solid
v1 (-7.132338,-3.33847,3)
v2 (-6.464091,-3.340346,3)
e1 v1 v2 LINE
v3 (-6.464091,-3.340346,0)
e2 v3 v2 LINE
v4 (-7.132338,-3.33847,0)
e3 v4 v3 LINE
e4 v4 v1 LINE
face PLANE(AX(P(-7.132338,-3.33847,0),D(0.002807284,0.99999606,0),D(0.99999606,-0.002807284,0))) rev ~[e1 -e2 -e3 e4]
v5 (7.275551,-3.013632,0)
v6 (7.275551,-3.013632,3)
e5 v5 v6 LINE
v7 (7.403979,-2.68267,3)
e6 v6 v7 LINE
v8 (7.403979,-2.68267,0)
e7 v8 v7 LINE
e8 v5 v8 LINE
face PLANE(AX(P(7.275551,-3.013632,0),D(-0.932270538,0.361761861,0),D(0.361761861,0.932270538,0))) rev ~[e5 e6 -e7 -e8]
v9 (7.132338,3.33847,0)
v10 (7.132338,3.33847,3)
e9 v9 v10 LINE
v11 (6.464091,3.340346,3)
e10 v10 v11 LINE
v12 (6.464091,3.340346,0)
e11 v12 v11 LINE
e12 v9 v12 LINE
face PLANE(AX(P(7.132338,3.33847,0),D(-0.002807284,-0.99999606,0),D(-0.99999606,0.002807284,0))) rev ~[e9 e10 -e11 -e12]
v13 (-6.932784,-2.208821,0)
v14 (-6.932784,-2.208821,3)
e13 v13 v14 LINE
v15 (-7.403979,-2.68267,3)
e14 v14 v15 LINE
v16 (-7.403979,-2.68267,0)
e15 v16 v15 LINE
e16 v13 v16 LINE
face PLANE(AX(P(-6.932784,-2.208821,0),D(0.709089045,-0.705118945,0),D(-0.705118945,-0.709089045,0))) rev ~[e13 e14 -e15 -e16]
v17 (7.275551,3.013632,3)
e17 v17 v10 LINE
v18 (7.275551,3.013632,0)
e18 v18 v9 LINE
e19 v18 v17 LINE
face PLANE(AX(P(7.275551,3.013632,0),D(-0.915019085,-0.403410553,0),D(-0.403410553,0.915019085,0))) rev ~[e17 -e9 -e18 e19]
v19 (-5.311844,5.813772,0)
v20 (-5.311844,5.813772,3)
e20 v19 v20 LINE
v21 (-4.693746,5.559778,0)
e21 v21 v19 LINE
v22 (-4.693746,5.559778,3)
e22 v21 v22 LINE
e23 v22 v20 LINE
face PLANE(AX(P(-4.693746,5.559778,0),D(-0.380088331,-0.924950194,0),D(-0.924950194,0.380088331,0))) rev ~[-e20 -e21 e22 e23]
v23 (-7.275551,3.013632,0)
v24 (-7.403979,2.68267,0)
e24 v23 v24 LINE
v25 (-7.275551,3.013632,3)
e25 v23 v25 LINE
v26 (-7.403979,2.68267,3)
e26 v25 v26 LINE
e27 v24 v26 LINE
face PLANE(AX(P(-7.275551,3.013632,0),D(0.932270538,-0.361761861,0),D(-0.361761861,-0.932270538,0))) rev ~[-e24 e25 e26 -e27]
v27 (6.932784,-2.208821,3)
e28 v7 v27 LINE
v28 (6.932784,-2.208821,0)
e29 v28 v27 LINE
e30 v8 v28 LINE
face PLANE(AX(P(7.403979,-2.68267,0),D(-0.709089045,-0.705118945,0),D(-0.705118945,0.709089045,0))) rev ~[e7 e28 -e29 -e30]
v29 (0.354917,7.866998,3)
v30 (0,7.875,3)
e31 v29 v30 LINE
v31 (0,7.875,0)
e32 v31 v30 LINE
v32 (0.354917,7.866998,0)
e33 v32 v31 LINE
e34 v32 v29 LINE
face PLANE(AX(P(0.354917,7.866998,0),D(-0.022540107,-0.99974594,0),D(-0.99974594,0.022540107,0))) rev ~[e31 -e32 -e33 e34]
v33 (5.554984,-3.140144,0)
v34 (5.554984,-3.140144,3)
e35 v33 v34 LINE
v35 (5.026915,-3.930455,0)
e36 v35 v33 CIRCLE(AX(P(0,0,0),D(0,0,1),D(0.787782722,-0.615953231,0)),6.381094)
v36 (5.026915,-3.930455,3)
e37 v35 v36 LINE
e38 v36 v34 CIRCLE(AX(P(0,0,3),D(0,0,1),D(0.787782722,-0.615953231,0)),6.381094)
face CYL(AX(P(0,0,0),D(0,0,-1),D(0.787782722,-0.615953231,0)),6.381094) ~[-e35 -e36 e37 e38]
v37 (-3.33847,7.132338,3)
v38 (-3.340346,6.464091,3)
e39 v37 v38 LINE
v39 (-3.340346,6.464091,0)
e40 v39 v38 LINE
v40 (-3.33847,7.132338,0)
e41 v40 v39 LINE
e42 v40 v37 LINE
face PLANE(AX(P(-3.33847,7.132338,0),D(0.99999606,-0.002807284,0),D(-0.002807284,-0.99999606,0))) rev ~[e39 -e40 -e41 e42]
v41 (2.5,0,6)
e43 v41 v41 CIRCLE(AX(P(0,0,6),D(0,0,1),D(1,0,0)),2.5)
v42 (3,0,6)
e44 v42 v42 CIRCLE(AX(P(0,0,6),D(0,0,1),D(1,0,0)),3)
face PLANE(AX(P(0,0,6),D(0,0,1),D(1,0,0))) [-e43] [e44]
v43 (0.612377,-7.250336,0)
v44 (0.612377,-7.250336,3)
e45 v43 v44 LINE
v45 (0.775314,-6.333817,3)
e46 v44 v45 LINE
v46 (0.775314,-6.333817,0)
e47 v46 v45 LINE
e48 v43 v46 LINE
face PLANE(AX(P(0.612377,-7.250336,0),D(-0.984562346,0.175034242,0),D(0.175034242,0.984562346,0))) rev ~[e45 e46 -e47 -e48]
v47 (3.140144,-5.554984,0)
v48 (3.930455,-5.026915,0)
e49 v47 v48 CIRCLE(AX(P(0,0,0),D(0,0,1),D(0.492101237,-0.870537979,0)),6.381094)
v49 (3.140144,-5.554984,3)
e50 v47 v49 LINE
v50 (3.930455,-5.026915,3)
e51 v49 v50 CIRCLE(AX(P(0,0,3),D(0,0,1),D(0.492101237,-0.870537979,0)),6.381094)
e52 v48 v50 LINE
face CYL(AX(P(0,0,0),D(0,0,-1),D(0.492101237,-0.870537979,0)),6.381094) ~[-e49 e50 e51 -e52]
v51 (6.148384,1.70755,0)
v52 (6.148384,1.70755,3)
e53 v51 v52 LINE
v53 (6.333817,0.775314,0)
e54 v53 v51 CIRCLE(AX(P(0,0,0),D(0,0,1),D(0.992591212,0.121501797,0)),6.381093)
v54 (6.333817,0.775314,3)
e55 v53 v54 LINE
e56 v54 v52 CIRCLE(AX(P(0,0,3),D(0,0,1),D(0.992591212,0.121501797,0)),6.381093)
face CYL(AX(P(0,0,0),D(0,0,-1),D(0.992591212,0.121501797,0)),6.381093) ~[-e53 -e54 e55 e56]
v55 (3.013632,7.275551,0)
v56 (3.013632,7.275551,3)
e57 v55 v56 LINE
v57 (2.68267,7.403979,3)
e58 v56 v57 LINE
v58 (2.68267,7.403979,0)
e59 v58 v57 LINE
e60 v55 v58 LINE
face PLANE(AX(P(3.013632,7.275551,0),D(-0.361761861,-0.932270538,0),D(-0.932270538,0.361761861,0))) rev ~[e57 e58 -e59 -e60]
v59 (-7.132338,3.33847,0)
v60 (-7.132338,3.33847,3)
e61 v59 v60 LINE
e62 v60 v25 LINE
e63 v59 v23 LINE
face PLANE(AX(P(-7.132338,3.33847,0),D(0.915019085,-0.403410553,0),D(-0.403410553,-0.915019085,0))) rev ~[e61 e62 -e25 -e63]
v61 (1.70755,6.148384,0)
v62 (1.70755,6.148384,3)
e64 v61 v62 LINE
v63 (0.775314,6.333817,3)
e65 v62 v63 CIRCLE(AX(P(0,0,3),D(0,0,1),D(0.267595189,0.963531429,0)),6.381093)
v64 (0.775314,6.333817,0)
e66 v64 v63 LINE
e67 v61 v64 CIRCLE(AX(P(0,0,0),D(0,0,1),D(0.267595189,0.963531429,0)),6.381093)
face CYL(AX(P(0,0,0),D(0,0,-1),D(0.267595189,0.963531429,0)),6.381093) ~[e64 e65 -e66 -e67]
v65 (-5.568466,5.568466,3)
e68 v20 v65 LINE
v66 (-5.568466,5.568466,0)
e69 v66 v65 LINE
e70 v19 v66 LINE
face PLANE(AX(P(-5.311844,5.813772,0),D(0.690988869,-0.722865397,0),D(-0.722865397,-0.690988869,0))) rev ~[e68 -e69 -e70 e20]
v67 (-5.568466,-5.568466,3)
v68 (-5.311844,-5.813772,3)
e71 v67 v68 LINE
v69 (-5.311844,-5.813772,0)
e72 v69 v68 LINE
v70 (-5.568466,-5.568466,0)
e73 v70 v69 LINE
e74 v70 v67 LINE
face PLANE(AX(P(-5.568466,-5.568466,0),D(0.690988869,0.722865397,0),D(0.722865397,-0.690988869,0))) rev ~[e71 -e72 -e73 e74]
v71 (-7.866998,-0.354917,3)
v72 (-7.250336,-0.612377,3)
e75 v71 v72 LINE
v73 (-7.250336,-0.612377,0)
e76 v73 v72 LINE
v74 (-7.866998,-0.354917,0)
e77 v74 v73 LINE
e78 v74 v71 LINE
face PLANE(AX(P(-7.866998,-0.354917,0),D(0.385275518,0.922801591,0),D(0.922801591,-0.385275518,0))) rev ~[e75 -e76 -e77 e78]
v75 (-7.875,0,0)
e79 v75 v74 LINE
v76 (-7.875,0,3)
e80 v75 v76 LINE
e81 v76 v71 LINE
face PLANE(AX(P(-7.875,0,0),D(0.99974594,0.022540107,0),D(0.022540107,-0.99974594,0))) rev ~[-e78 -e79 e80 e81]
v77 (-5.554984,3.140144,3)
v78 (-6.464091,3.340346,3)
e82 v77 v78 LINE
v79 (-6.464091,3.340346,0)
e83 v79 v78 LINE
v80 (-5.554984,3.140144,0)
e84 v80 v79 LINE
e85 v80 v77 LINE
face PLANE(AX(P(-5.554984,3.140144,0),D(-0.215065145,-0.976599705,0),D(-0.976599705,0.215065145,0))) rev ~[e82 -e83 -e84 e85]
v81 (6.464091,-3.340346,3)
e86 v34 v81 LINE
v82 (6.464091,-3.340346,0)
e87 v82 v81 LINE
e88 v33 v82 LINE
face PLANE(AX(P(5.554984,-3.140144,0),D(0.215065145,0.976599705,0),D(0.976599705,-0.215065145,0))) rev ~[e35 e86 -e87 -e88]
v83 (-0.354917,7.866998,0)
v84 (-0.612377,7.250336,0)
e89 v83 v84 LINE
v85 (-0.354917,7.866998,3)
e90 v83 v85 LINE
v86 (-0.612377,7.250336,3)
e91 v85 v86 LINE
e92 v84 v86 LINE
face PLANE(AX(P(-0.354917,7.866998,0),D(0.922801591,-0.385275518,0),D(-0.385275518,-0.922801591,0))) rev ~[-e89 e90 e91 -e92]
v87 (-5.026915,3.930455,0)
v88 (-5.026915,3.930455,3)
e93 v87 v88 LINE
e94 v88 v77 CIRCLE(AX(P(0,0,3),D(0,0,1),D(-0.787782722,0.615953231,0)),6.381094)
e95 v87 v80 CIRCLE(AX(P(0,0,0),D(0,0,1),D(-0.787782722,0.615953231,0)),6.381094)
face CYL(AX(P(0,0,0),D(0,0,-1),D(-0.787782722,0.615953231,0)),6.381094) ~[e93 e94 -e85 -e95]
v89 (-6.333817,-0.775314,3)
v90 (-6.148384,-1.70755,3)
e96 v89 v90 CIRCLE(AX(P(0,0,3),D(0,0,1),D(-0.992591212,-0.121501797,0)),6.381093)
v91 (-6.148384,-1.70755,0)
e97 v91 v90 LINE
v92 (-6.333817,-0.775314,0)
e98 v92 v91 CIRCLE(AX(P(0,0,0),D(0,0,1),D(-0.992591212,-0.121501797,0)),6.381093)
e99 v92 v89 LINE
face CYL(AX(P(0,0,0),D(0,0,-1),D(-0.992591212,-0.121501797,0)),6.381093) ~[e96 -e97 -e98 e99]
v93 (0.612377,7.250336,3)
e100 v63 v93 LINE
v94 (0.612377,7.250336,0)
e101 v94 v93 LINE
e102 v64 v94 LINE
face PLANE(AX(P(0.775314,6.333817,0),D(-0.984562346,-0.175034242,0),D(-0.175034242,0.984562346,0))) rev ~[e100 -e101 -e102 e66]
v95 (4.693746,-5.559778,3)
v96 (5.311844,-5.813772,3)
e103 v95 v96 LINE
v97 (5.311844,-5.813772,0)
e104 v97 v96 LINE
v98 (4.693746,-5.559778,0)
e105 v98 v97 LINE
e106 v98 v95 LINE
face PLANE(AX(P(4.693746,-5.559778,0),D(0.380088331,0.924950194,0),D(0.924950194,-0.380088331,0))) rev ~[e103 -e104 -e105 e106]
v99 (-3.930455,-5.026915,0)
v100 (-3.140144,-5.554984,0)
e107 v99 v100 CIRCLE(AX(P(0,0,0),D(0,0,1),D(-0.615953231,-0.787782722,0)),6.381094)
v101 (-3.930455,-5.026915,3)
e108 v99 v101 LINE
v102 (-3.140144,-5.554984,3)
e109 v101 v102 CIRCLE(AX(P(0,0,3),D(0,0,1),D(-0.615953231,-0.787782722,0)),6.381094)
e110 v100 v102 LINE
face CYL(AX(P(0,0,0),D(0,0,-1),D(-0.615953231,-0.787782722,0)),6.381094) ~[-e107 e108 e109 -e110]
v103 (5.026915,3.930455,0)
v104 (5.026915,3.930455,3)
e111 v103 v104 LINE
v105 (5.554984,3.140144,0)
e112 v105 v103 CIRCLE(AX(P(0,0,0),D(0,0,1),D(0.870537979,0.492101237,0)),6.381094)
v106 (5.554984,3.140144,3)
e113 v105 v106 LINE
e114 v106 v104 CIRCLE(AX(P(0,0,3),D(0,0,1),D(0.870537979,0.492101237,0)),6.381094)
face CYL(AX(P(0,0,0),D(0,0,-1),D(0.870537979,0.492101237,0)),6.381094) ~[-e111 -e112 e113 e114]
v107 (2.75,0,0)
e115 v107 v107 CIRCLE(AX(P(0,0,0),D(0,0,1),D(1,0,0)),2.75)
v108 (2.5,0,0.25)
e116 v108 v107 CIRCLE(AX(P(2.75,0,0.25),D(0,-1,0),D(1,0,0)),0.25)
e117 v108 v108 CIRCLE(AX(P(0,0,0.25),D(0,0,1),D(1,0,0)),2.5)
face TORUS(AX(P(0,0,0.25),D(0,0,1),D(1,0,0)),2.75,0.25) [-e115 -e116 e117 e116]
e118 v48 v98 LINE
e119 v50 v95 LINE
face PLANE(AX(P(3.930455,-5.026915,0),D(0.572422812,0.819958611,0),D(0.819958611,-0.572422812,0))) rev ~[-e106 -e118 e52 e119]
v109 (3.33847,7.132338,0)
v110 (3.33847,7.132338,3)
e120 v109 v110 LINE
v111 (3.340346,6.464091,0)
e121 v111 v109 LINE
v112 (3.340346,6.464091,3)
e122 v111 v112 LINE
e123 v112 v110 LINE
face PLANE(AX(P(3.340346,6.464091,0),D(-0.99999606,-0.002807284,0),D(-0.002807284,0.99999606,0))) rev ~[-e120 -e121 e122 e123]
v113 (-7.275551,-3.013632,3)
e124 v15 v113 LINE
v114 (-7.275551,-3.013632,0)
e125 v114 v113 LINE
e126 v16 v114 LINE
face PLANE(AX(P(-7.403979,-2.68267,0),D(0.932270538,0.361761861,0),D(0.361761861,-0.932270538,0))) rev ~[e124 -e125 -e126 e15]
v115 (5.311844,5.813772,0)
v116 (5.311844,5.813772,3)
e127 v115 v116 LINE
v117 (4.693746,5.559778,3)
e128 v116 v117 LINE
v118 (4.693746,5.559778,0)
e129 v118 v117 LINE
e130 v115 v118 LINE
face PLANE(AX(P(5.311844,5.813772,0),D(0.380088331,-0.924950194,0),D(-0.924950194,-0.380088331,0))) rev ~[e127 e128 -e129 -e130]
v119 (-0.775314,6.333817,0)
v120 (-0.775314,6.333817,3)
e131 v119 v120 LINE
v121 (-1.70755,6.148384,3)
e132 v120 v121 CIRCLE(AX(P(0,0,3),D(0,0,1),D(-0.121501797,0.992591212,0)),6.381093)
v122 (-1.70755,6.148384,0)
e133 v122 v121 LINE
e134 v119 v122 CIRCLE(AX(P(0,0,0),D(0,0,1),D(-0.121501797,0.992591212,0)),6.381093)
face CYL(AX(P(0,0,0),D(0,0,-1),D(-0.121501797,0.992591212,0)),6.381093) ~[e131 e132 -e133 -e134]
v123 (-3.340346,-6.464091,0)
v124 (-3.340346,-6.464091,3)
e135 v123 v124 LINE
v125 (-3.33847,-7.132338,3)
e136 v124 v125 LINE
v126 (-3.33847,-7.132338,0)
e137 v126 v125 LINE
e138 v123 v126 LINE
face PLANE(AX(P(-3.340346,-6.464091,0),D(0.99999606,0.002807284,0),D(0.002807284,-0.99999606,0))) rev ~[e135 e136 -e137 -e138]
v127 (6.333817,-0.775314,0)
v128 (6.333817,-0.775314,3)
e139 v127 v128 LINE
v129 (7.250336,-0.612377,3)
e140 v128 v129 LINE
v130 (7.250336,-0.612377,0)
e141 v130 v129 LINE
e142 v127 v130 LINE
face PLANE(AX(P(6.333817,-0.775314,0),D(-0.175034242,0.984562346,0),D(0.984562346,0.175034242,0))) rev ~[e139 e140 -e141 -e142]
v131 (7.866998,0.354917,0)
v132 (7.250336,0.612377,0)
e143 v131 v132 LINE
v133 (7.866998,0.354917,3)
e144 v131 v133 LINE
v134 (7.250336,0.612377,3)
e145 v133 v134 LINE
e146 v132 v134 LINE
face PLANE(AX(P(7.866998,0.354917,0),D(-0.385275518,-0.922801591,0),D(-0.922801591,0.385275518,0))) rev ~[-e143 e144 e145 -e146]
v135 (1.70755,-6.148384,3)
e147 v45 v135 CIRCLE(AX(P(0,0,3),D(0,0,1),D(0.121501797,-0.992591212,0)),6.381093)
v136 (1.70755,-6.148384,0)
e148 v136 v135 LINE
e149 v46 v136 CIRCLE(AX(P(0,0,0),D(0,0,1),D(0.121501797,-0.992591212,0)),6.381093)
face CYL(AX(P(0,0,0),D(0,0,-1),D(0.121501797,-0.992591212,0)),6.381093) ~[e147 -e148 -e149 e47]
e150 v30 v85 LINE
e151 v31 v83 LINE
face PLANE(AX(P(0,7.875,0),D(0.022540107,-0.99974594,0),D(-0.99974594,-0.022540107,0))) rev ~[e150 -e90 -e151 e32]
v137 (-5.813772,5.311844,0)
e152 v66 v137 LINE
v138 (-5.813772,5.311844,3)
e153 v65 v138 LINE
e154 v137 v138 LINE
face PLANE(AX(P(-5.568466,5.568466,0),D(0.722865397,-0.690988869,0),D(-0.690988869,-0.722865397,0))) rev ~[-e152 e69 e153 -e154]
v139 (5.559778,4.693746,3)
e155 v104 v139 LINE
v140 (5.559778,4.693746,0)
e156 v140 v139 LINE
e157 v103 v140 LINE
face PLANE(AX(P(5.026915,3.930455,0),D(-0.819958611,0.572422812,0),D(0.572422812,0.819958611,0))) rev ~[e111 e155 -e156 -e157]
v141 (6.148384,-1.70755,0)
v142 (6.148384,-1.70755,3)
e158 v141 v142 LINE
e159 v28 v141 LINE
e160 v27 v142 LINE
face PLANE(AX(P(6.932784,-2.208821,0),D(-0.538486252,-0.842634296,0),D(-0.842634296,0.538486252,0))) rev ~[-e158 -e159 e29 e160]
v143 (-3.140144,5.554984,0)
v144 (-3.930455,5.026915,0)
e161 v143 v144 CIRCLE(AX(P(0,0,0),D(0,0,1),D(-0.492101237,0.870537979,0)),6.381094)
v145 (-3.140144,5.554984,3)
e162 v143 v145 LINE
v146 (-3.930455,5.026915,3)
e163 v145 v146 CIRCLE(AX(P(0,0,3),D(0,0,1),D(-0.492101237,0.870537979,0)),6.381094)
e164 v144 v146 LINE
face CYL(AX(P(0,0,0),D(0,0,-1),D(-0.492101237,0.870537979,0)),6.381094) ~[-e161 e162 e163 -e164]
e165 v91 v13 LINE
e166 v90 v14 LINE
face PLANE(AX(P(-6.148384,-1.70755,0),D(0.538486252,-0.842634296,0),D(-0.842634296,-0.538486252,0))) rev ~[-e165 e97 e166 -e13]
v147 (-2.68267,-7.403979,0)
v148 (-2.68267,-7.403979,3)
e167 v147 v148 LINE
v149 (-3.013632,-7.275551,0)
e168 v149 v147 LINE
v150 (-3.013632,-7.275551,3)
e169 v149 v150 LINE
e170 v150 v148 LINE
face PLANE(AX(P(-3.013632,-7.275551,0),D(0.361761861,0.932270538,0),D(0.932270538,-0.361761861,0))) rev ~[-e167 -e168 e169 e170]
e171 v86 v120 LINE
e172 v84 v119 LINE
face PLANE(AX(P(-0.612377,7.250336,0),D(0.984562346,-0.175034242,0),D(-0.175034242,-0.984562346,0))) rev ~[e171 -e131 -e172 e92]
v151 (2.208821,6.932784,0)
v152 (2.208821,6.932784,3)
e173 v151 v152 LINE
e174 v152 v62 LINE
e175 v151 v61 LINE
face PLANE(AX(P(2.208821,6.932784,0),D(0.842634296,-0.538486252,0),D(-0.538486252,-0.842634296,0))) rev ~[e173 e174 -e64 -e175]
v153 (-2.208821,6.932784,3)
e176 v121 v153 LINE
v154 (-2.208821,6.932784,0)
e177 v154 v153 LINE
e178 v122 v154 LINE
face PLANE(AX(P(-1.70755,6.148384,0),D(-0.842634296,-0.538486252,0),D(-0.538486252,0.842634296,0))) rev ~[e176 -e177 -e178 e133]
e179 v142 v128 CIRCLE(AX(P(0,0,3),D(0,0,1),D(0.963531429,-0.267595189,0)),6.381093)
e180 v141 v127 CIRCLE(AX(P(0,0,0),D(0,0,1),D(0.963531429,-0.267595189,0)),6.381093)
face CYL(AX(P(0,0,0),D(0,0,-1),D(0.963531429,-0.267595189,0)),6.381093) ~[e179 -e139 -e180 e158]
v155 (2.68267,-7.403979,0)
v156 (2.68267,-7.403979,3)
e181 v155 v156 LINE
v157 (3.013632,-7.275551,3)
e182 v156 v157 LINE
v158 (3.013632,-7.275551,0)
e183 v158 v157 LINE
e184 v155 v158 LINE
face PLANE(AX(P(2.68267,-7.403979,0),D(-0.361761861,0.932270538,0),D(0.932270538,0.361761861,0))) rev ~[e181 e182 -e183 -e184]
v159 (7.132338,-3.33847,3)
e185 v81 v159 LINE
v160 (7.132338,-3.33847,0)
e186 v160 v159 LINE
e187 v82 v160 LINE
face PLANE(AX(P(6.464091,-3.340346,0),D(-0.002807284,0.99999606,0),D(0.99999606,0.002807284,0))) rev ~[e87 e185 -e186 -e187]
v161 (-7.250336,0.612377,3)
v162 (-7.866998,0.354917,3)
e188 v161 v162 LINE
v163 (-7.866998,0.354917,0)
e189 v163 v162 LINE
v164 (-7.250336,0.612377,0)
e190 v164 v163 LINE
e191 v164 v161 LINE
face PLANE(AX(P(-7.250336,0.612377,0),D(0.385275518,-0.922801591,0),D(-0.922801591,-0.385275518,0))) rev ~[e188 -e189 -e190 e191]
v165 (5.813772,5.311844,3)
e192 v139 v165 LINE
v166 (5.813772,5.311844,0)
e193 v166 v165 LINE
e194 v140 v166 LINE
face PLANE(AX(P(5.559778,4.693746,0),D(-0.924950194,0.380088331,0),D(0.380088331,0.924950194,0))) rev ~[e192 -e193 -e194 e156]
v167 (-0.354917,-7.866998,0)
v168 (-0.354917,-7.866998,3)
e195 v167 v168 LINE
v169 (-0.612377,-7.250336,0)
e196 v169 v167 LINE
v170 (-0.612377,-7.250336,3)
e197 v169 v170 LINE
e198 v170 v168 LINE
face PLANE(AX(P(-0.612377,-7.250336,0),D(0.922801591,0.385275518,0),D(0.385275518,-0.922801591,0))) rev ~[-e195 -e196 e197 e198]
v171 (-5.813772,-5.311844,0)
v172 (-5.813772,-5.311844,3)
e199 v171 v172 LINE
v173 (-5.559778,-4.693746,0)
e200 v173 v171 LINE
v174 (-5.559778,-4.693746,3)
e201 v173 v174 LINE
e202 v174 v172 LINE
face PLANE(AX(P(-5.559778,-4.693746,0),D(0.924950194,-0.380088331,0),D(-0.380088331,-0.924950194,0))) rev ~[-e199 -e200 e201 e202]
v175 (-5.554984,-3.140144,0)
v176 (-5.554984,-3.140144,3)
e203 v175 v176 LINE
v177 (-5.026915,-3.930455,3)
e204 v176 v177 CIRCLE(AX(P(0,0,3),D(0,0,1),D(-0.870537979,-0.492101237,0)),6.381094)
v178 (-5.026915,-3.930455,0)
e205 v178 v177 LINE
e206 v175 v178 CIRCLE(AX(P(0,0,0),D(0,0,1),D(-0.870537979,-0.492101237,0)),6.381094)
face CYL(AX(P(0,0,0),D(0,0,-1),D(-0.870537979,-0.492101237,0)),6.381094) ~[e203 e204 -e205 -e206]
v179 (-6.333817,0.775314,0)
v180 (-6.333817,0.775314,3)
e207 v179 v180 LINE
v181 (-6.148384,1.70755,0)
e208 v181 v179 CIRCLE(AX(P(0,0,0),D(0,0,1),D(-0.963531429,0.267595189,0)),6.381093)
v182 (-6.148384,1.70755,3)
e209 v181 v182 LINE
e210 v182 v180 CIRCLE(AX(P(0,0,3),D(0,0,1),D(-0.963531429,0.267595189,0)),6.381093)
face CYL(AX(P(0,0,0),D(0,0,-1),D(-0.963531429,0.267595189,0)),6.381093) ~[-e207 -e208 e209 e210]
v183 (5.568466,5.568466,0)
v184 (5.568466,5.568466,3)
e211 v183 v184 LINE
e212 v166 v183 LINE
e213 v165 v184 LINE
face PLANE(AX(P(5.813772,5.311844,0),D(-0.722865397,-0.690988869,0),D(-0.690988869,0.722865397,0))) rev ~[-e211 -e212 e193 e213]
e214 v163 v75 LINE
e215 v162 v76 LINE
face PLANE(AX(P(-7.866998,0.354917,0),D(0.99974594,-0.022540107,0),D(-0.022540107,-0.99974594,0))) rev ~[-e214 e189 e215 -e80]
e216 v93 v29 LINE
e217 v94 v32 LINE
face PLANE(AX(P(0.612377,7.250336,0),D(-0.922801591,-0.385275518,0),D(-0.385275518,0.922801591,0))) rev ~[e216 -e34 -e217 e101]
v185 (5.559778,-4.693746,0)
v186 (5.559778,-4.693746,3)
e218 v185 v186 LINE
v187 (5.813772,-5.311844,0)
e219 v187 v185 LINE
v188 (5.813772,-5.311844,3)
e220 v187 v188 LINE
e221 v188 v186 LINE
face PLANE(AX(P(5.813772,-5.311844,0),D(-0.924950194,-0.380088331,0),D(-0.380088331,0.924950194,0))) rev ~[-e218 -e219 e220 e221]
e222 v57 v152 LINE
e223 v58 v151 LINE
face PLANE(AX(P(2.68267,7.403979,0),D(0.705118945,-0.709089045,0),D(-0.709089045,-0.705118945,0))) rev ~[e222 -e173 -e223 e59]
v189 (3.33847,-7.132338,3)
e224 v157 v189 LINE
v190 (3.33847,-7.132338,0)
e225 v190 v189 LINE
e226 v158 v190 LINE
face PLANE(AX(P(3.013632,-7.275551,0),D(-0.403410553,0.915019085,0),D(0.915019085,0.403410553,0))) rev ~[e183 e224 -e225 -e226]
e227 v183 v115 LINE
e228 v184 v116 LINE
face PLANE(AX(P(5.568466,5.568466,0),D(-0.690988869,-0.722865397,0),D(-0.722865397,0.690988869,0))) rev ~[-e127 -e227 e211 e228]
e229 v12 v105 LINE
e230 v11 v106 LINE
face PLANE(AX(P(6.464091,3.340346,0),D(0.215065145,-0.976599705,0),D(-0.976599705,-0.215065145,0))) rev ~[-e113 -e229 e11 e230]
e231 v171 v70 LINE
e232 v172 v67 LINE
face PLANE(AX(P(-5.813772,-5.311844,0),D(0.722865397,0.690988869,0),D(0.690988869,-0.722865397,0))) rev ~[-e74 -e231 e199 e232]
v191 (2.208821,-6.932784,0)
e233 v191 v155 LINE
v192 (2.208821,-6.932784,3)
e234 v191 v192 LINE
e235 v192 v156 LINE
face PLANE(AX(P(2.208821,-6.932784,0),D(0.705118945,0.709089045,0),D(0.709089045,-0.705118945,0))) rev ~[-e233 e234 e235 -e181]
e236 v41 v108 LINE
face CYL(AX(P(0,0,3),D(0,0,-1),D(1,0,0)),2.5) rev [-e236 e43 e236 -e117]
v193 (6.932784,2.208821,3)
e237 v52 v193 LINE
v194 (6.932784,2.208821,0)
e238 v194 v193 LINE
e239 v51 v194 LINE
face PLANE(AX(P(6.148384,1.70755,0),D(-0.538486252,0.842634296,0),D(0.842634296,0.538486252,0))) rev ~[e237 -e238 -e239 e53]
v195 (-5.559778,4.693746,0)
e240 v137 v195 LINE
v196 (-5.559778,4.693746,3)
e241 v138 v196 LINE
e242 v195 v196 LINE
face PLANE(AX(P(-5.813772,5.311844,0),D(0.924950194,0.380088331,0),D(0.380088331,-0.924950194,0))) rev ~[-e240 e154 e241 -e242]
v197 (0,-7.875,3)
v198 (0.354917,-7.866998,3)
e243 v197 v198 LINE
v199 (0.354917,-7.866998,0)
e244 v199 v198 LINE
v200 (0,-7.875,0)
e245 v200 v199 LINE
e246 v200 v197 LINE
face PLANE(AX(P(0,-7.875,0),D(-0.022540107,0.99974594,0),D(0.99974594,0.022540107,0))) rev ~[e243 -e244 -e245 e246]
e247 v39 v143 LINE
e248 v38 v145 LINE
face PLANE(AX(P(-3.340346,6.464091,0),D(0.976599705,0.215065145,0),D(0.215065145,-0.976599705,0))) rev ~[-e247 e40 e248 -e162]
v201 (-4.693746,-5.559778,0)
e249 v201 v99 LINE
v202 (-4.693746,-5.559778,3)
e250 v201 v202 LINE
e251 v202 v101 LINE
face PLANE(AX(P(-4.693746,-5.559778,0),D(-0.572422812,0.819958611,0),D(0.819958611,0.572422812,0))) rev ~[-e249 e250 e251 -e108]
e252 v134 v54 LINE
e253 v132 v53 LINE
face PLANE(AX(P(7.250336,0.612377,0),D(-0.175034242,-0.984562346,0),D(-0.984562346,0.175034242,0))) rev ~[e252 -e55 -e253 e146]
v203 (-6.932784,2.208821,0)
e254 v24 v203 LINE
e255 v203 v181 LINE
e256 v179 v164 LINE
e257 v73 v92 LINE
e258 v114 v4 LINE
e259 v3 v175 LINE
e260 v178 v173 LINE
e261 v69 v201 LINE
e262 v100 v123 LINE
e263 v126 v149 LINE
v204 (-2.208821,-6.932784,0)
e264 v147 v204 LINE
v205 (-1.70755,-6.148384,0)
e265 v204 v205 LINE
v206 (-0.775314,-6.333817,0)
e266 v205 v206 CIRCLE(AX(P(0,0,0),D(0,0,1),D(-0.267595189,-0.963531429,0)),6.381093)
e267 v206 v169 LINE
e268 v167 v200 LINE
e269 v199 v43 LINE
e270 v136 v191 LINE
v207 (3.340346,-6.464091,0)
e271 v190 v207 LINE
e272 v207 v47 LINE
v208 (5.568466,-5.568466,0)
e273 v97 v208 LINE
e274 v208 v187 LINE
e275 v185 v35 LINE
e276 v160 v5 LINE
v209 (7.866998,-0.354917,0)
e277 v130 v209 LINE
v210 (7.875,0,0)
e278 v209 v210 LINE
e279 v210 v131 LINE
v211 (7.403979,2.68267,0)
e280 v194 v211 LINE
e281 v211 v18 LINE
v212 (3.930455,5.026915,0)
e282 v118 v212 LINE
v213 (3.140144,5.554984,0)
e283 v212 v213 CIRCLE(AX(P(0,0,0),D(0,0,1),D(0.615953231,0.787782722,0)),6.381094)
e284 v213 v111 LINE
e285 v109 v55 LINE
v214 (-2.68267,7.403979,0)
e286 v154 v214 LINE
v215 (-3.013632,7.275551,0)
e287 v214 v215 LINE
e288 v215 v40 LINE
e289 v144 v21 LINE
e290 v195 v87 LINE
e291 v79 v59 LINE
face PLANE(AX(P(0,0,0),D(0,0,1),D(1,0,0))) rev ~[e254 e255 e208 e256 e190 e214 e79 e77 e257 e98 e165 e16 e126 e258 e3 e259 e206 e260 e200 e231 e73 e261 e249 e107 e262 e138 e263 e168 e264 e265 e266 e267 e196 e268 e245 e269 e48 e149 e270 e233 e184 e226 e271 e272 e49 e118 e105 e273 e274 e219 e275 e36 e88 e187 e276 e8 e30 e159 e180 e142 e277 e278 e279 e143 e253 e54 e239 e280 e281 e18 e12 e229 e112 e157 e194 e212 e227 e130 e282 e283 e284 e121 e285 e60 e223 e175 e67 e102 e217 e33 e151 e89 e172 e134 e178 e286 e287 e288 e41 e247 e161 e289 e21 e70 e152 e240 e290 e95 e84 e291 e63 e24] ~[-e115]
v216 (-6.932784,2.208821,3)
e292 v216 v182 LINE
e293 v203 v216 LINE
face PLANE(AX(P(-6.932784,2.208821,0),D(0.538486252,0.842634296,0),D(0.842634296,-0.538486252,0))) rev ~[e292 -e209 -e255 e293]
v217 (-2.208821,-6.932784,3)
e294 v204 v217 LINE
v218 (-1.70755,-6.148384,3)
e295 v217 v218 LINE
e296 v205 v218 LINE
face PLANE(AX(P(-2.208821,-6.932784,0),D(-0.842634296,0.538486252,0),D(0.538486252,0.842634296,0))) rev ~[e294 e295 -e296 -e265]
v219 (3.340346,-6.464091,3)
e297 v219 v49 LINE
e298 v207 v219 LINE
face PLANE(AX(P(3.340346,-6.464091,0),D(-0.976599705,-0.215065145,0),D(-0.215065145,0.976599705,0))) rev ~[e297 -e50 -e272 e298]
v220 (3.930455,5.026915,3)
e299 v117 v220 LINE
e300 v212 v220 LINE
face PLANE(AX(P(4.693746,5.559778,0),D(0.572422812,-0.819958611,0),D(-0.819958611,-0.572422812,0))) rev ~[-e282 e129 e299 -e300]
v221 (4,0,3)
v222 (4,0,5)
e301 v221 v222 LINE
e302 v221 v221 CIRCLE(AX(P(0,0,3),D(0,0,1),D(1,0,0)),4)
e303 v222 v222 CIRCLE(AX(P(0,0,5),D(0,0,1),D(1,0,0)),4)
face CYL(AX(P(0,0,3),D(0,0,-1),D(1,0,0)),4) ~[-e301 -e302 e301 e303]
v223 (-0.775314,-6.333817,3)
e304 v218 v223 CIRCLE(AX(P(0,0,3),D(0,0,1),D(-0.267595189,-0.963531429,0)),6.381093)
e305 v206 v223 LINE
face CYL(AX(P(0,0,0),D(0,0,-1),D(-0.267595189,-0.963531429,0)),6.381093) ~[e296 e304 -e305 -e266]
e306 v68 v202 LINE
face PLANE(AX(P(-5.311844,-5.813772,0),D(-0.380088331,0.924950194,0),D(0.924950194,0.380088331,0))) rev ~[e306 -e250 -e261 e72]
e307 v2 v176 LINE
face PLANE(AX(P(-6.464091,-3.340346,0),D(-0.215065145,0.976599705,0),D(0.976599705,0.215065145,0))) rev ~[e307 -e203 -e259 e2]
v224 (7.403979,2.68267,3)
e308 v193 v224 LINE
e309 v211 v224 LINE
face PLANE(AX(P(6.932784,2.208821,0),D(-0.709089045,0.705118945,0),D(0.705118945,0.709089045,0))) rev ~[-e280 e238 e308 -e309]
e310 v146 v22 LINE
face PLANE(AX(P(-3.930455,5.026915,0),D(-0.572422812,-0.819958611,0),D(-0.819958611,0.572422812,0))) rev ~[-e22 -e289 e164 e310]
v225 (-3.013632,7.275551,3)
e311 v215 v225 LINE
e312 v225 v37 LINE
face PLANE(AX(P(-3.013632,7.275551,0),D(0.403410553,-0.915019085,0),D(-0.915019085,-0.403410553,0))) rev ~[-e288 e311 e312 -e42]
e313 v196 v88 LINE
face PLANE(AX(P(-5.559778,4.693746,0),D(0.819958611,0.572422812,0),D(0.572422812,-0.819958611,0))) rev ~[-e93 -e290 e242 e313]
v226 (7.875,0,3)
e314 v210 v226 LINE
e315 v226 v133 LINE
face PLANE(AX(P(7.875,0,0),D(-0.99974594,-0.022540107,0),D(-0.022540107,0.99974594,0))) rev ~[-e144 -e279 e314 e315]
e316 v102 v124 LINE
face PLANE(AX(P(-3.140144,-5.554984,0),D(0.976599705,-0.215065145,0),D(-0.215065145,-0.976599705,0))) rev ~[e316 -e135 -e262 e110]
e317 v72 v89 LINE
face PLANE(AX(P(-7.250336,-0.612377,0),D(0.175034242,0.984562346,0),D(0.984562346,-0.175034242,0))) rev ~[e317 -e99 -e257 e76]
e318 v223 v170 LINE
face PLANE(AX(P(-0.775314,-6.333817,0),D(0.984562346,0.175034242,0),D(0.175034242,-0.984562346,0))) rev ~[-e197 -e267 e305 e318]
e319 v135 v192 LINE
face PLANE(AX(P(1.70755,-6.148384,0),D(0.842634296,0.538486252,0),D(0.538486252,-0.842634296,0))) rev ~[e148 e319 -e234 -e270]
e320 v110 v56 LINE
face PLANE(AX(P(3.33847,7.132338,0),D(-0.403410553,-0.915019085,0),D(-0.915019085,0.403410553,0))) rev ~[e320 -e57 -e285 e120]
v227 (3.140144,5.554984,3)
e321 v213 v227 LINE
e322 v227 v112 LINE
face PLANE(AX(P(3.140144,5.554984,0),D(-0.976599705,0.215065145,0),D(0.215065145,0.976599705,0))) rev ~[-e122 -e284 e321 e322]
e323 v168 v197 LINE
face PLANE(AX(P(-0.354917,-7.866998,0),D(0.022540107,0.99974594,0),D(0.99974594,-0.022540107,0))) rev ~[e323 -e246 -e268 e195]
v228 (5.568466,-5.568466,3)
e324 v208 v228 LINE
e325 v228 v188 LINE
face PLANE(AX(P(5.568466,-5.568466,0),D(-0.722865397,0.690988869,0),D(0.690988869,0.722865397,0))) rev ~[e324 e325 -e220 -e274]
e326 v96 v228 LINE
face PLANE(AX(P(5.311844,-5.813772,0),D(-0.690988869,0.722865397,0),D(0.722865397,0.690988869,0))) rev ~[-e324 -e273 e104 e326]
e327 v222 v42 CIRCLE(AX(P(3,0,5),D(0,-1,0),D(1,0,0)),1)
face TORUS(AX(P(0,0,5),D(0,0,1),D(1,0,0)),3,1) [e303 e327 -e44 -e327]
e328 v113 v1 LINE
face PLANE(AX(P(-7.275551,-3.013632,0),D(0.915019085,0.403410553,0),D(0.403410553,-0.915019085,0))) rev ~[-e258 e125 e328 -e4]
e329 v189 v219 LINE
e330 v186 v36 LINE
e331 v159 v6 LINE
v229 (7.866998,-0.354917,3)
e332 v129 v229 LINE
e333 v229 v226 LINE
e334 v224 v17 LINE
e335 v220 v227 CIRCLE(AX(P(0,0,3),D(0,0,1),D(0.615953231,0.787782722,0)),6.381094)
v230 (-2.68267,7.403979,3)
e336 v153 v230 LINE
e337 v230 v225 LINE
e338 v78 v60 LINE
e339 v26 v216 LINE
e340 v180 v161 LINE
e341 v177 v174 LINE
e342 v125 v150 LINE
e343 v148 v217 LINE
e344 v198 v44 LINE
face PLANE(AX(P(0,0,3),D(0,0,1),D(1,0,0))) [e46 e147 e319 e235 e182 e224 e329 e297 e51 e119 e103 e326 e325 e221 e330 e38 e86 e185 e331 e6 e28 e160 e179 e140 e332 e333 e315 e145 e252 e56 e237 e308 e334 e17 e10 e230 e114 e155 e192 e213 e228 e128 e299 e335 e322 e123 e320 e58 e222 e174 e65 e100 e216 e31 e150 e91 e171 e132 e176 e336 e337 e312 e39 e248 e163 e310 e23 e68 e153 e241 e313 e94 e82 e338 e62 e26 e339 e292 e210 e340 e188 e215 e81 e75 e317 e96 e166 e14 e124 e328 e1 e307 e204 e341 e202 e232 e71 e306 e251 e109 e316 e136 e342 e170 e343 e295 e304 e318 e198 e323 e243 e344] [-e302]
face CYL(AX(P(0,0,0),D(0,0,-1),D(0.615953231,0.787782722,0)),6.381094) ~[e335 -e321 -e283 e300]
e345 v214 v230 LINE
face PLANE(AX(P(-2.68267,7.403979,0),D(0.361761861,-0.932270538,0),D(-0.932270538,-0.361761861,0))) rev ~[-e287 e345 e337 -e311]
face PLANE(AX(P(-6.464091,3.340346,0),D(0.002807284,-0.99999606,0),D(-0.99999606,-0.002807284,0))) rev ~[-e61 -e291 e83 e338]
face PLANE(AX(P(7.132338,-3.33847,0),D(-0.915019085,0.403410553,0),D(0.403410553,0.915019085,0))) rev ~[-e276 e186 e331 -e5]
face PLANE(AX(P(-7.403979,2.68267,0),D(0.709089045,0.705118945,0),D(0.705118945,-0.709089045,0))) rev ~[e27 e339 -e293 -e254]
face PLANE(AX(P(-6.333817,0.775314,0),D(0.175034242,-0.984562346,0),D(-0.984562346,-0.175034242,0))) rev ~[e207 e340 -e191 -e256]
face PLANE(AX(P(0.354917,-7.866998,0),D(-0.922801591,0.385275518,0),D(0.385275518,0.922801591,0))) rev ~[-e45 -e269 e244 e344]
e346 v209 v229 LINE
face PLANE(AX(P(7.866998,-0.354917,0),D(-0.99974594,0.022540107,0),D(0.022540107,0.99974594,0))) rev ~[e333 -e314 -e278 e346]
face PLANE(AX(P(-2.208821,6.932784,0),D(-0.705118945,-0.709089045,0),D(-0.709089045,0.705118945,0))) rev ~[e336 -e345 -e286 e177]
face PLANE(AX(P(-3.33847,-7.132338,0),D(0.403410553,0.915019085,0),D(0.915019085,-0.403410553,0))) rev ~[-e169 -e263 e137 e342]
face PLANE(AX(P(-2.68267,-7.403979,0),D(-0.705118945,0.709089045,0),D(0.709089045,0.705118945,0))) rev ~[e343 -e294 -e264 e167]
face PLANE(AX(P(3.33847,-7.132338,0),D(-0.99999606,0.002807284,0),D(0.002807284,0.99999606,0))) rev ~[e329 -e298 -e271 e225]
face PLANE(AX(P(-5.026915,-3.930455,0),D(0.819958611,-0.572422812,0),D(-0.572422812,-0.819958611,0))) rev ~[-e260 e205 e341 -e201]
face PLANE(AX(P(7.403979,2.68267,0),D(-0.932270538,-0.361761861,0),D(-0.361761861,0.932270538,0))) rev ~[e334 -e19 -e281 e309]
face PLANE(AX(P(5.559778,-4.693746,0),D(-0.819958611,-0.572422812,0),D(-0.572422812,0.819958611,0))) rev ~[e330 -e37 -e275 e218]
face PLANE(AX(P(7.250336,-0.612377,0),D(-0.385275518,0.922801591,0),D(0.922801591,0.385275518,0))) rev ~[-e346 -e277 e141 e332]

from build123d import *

# Parameters (mm, degrees)
SKETCH1_R           = 2.5
BOSS_EXTRUDE3_DEPTH = 3
SKETCH4_R           = 4
SKETCH4_R_2         = 2.5
BOSS_EXTRUDE4_DEPTH = 3
FILLET1_R           = 1
FILLET2_R           = 0.25


with BuildPart() as part:
    # Sketch1 → Boss-Extrude3 (new body)
    with BuildSketch(Plane.XY):
        with BuildLine():
            Line((-0.612376666, 7.250336436), (-0.775314301, 6.33381714))
            ThreePointArc((-0.775314301, 6.33381714), (-1.244889549, 6.258482391), (-1.707549869, 6.148383956))
            Line((-1.707549869, 6.148383956), (-2.208821365, 6.932783841))
            Line((-2.208821365, 6.932783841), (-2.682669744, 7.403979203))
            Line((-2.682669744, 7.403979203), (-3.01363203, 7.275551319))
            Line((-3.01363203, 7.275551319), (-3.338469935, 7.13233787))
            Line((-3.338469935, 7.13233787), (-3.340345901, 6.464091033))
            Line((-3.340345901, 6.464091033), (-3.140143897, 5.554984081))
            ThreePointArc((-3.140143897, 5.554984081), (-3.545145497, 5.30568518), (-3.930455051, 5.02691505))
            Line((-3.930455051, 5.02691505), (-4.693746367, 5.559777753))
            Line((-4.693746367, 5.559777753), (-5.311843844, 5.813771579))
            Line((-5.311843844, 5.813771579), (-5.568465902, 5.568465902))
            Line((-5.568465902, 5.568465902), (-5.813771579, 5.311843844))
            Line((-5.813771579, 5.311843844), (-5.559777753, 4.693746367))
            Line((-5.559777753, 4.693746367), (-5.02691505, 3.930455051))
            ThreePointArc((-5.02691505, 3.930455051), (-5.30568518, 3.545145497), (-5.554984081, 3.140143897))
            Line((-5.554984081, 3.140143897), (-6.464091033, 3.340345901))
            Line((-6.464091033, 3.340345901), (-7.13233787, 3.338469935))
            Line((-7.13233787, 3.338469935), (-7.275551319, 3.01363203))
            Line((-7.275551319, 3.01363203), (-7.403979203, 2.682669744))
            Line((-7.403979203, 2.682669744), (-6.932783841, 2.208821365))
            Line((-6.932783841, 2.208821365), (-6.148383956, 1.707549869))
            ThreePointArc((-6.148383956, 1.707549869), (-6.258482391, 1.244889549), (-6.33381714, 0.775314301))
            Line((-6.33381714, 0.775314301), (-7.250336436, 0.612376666))
            Line((-7.250336436, 0.612376666), (-7.866998111, 0.354916505))
            Line((-7.866998111, 0.354916505), (-7.875, 0))
            Line((-7.875, 0), (-7.866998111, -0.354916505))
            Line((-7.866998111, -0.354916505), (-7.250336436, -0.612376666))
            Line((-7.250336436, -0.612376666), (-6.33381714, -0.775314301))
            ThreePointArc((-6.33381714, -0.775314301), (-6.258482391, -1.244889549), (-6.148383956, -1.707549869))
            Line((-6.148383956, -1.707549869), (-6.932783841, -2.208821365))
            Line((-6.932783841, -2.208821365), (-7.403979203, -2.682669744))
            Line((-7.403979203, -2.682669744), (-7.275551319, -3.01363203))
            Line((-7.275551319, -3.01363203), (-7.13233787, -3.338469935))
            Line((-7.13233787, -3.338469935), (-6.464091033, -3.340345901))
            Line((-6.464091033, -3.340345901), (-5.554984081, -3.140143897))
            ThreePointArc((-5.554984081, -3.140143897), (-5.30568518, -3.545145497), (-5.02691505, -3.930455051))
            Line((-5.02691505, -3.930455051), (-5.559777753, -4.693746367))
            Line((-5.559777753, -4.693746367), (-5.813771579, -5.311843844))
            Line((-5.813771579, -5.311843844), (-5.568465902, -5.568465902))
            Line((-5.568465902, -5.568465902), (-5.311843844, -5.813771579))
            Line((-5.311843844, -5.813771579), (-4.693746367, -5.559777753))
            Line((-4.693746367, -5.559777753), (-3.930455051, -5.02691505))
            ThreePointArc((-3.930455051, -5.02691505), (-3.545145497, -5.30568518), (-3.140143897, -5.554984081))
            Line((-3.140143897, -5.554984081), (-3.340345901, -6.464091033))
            Line((-3.340345901, -6.464091033), (-3.338469935, -7.13233787))
            Line((-3.338469935, -7.13233787), (-3.01363203, -7.275551319))
            Line((-3.01363203, -7.275551319), (-2.682669744, -7.403979203))
            Line((-2.682669744, -7.403979203), (-2.208821365, -6.932783841))
            Line((-2.208821365, -6.932783841), (-1.707549869, -6.148383956))
            ThreePointArc((-1.707549869, -6.148383956), (-1.244889549, -6.258482391), (-0.775314301, -6.33381714))
            Line((-0.775314301, -6.33381714), (-0.612376666, -7.250336436))
            Line((-0.612376666, -7.250336436), (-0.354916505, -7.866998111))
            Line((-0.354916505, -7.866998111), (0, -7.875))
            Line((0, -7.875), (0.354916505, -7.866998111))
            Line((0.354916505, -7.866998111), (0.612376666, -7.250336436))
            Line((0.612376666, -7.250336436), (0.775314301, -6.33381714))
            ThreePointArc((0.775314301, -6.33381714), (1.244889549, -6.258482391), (1.707549869, -6.148383956))
            Line((1.707549869, -6.148383956), (2.208821365, -6.932783841))
            Line((2.208821365, -6.932783841), (2.682669744, -7.403979203))
            Line((2.682669744, -7.403979203), (3.01363203, -7.275551319))
            Line((3.01363203, -7.275551319), (3.338469935, -7.13233787))
            Line((3.338469935, -7.13233787), (3.340345901, -6.464091033))
            Line((3.340345901, -6.464091033), (3.140143897, -5.554984081))
            ThreePointArc((3.140143897, -5.554984081), (3.545145497, -5.30568518), (3.930455051, -5.02691505))
            Line((3.930455051, -5.02691505), (4.693746367, -5.559777753))
            Line((4.693746367, -5.559777753), (5.311843844, -5.813771579))
            Line((5.311843844, -5.813771579), (5.568465902, -5.568465902))
            Line((5.568465902, -5.568465902), (5.813771579, -5.311843844))
            Line((5.813771579, -5.311843844), (5.559777753, -4.693746367))
            Line((5.559777753, -4.693746367), (5.02691505, -3.930455051))
            ThreePointArc((5.02691505, -3.930455051), (5.30568518, -3.545145497), (5.554984081, -3.140143897))
            Line((5.554984081, -3.140143897), (6.464091033, -3.340345901))
            Line((6.464091033, -3.340345901), (7.13233787, -3.338469935))
            Line((7.13233787, -3.338469935), (7.275551319, -3.01363203))
            Line((7.275551319, -3.01363203), (7.403979203, -2.682669744))
            Line((7.403979203, -2.682669744), (6.932783841, -2.208821365))
            Line((6.932783841, -2.208821365), (6.148383956, -1.707549869))
            ThreePointArc((6.148383956, -1.707549869), (6.258482391, -1.244889549), (6.33381714, -0.775314301))
            Line((6.33381714, -0.775314301), (7.250336436, -0.612376666))
            Line((7.250336436, -0.612376666), (7.866998111, -0.354916505))
            Line((7.866998111, -0.354916505), (7.875, 0))
            Line((7.875, 0), (7.866998111, 0.354916505))
            Line((7.866998111, 0.354916505), (7.250336436, 0.612376666))
            Line((7.250336436, 0.612376666), (6.33381714, 0.775314301))
            ThreePointArc((6.33381714, 0.775314301), (6.258482391, 1.244889549), (6.148383956, 1.707549869))
            Line((6.148383956, 1.707549869), (6.932783841, 2.208821365))
            Line((6.932783841, 2.208821365), (7.403979203, 2.682669744))
            Line((7.403979203, 2.682669744), (7.275551319, 3.01363203))
            Line((7.275551319, 3.01363203), (7.13233787, 3.338469935))
            Line((7.13233787, 3.338469935), (6.464091033, 3.340345901))
            Line((6.464091033, 3.340345901), (5.554984081, 3.140143897))
            ThreePointArc((5.554984081, 3.140143897), (5.30568518, 3.545145497), (5.02691505, 3.930455051))
            Line((5.02691505, 3.930455051), (5.559777753, 4.693746367))
            Line((5.559777753, 4.693746367), (5.813771579, 5.311843844))
            Line((5.813771579, 5.311843844), (5.568465902, 5.568465902))
            Line((5.568465902, 5.568465902), (5.311843844, 5.813771579))
            Line((5.311843844, 5.813771579), (4.693746367, 5.559777753))
            Line((4.693746367, 5.559777753), (3.930455051, 5.02691505))
            ThreePointArc((3.930455051, 5.02691505), (3.545145497, 5.30568518), (3.140143897, 5.554984081))
            Line((3.140143897, 5.554984081), (3.340345901, 6.464091033))
            Line((3.340345901, 6.464091033), (3.338469935, 7.13233787))
            Line((3.338469935, 7.13233787), (3.01363203, 7.275551319))
            Line((3.01363203, 7.275551319), (2.682669744, 7.403979203))
            Line((2.682669744, 7.403979203), (2.208821365, 6.932783841))
            Line((2.208821365, 6.932783841), (1.707549869, 6.148383956))
            ThreePointArc((1.707549869, 6.148383956), (1.244889549, 6.258482391), (0.775314301, 6.33381714))
            Line((0.775314301, 6.33381714), (0.612376666, 7.250336436))
            Line((0.612376666, 7.250336436), (0.354916505, 7.866998111))
            Line((0.354916505, 7.866998111), (0, 7.875))
            Line((0, 7.875), (-0.354916505, 7.866998111))
            Line((-0.354916505, 7.866998111), (-0.612376666, 7.250336436))
        make_face()
        Circle(SKETCH1_R, mode=Mode.SUBTRACT)
    extrude(amount=BOSS_EXTRUDE3_DEPTH)

    # Sketch4 → Boss-Extrude4 (add)
    with BuildSketch(Plane.XY.offset(3)):
        Circle(SKETCH4_R)
        Circle(SKETCH4_R_2, mode=Mode.SUBTRACT)
    extrude(amount=BOSS_EXTRUDE4_DEPTH)

    # Fillet1
    fillet1_edges = [part.edges().sort_by_distance(p)[0] for p in [
        (-4, 0, 6),
    ]]
    fillet(fillet1_edges, radius=FILLET1_R)

    # Fillet2
    fillet2_edges = [part.edges().sort_by_distance(p)[0] for p in [
        (-2.5, 0, 0),
    ]]
    fillet(fillet2_edges, radius=FILLET2_R)


solid = part.part
